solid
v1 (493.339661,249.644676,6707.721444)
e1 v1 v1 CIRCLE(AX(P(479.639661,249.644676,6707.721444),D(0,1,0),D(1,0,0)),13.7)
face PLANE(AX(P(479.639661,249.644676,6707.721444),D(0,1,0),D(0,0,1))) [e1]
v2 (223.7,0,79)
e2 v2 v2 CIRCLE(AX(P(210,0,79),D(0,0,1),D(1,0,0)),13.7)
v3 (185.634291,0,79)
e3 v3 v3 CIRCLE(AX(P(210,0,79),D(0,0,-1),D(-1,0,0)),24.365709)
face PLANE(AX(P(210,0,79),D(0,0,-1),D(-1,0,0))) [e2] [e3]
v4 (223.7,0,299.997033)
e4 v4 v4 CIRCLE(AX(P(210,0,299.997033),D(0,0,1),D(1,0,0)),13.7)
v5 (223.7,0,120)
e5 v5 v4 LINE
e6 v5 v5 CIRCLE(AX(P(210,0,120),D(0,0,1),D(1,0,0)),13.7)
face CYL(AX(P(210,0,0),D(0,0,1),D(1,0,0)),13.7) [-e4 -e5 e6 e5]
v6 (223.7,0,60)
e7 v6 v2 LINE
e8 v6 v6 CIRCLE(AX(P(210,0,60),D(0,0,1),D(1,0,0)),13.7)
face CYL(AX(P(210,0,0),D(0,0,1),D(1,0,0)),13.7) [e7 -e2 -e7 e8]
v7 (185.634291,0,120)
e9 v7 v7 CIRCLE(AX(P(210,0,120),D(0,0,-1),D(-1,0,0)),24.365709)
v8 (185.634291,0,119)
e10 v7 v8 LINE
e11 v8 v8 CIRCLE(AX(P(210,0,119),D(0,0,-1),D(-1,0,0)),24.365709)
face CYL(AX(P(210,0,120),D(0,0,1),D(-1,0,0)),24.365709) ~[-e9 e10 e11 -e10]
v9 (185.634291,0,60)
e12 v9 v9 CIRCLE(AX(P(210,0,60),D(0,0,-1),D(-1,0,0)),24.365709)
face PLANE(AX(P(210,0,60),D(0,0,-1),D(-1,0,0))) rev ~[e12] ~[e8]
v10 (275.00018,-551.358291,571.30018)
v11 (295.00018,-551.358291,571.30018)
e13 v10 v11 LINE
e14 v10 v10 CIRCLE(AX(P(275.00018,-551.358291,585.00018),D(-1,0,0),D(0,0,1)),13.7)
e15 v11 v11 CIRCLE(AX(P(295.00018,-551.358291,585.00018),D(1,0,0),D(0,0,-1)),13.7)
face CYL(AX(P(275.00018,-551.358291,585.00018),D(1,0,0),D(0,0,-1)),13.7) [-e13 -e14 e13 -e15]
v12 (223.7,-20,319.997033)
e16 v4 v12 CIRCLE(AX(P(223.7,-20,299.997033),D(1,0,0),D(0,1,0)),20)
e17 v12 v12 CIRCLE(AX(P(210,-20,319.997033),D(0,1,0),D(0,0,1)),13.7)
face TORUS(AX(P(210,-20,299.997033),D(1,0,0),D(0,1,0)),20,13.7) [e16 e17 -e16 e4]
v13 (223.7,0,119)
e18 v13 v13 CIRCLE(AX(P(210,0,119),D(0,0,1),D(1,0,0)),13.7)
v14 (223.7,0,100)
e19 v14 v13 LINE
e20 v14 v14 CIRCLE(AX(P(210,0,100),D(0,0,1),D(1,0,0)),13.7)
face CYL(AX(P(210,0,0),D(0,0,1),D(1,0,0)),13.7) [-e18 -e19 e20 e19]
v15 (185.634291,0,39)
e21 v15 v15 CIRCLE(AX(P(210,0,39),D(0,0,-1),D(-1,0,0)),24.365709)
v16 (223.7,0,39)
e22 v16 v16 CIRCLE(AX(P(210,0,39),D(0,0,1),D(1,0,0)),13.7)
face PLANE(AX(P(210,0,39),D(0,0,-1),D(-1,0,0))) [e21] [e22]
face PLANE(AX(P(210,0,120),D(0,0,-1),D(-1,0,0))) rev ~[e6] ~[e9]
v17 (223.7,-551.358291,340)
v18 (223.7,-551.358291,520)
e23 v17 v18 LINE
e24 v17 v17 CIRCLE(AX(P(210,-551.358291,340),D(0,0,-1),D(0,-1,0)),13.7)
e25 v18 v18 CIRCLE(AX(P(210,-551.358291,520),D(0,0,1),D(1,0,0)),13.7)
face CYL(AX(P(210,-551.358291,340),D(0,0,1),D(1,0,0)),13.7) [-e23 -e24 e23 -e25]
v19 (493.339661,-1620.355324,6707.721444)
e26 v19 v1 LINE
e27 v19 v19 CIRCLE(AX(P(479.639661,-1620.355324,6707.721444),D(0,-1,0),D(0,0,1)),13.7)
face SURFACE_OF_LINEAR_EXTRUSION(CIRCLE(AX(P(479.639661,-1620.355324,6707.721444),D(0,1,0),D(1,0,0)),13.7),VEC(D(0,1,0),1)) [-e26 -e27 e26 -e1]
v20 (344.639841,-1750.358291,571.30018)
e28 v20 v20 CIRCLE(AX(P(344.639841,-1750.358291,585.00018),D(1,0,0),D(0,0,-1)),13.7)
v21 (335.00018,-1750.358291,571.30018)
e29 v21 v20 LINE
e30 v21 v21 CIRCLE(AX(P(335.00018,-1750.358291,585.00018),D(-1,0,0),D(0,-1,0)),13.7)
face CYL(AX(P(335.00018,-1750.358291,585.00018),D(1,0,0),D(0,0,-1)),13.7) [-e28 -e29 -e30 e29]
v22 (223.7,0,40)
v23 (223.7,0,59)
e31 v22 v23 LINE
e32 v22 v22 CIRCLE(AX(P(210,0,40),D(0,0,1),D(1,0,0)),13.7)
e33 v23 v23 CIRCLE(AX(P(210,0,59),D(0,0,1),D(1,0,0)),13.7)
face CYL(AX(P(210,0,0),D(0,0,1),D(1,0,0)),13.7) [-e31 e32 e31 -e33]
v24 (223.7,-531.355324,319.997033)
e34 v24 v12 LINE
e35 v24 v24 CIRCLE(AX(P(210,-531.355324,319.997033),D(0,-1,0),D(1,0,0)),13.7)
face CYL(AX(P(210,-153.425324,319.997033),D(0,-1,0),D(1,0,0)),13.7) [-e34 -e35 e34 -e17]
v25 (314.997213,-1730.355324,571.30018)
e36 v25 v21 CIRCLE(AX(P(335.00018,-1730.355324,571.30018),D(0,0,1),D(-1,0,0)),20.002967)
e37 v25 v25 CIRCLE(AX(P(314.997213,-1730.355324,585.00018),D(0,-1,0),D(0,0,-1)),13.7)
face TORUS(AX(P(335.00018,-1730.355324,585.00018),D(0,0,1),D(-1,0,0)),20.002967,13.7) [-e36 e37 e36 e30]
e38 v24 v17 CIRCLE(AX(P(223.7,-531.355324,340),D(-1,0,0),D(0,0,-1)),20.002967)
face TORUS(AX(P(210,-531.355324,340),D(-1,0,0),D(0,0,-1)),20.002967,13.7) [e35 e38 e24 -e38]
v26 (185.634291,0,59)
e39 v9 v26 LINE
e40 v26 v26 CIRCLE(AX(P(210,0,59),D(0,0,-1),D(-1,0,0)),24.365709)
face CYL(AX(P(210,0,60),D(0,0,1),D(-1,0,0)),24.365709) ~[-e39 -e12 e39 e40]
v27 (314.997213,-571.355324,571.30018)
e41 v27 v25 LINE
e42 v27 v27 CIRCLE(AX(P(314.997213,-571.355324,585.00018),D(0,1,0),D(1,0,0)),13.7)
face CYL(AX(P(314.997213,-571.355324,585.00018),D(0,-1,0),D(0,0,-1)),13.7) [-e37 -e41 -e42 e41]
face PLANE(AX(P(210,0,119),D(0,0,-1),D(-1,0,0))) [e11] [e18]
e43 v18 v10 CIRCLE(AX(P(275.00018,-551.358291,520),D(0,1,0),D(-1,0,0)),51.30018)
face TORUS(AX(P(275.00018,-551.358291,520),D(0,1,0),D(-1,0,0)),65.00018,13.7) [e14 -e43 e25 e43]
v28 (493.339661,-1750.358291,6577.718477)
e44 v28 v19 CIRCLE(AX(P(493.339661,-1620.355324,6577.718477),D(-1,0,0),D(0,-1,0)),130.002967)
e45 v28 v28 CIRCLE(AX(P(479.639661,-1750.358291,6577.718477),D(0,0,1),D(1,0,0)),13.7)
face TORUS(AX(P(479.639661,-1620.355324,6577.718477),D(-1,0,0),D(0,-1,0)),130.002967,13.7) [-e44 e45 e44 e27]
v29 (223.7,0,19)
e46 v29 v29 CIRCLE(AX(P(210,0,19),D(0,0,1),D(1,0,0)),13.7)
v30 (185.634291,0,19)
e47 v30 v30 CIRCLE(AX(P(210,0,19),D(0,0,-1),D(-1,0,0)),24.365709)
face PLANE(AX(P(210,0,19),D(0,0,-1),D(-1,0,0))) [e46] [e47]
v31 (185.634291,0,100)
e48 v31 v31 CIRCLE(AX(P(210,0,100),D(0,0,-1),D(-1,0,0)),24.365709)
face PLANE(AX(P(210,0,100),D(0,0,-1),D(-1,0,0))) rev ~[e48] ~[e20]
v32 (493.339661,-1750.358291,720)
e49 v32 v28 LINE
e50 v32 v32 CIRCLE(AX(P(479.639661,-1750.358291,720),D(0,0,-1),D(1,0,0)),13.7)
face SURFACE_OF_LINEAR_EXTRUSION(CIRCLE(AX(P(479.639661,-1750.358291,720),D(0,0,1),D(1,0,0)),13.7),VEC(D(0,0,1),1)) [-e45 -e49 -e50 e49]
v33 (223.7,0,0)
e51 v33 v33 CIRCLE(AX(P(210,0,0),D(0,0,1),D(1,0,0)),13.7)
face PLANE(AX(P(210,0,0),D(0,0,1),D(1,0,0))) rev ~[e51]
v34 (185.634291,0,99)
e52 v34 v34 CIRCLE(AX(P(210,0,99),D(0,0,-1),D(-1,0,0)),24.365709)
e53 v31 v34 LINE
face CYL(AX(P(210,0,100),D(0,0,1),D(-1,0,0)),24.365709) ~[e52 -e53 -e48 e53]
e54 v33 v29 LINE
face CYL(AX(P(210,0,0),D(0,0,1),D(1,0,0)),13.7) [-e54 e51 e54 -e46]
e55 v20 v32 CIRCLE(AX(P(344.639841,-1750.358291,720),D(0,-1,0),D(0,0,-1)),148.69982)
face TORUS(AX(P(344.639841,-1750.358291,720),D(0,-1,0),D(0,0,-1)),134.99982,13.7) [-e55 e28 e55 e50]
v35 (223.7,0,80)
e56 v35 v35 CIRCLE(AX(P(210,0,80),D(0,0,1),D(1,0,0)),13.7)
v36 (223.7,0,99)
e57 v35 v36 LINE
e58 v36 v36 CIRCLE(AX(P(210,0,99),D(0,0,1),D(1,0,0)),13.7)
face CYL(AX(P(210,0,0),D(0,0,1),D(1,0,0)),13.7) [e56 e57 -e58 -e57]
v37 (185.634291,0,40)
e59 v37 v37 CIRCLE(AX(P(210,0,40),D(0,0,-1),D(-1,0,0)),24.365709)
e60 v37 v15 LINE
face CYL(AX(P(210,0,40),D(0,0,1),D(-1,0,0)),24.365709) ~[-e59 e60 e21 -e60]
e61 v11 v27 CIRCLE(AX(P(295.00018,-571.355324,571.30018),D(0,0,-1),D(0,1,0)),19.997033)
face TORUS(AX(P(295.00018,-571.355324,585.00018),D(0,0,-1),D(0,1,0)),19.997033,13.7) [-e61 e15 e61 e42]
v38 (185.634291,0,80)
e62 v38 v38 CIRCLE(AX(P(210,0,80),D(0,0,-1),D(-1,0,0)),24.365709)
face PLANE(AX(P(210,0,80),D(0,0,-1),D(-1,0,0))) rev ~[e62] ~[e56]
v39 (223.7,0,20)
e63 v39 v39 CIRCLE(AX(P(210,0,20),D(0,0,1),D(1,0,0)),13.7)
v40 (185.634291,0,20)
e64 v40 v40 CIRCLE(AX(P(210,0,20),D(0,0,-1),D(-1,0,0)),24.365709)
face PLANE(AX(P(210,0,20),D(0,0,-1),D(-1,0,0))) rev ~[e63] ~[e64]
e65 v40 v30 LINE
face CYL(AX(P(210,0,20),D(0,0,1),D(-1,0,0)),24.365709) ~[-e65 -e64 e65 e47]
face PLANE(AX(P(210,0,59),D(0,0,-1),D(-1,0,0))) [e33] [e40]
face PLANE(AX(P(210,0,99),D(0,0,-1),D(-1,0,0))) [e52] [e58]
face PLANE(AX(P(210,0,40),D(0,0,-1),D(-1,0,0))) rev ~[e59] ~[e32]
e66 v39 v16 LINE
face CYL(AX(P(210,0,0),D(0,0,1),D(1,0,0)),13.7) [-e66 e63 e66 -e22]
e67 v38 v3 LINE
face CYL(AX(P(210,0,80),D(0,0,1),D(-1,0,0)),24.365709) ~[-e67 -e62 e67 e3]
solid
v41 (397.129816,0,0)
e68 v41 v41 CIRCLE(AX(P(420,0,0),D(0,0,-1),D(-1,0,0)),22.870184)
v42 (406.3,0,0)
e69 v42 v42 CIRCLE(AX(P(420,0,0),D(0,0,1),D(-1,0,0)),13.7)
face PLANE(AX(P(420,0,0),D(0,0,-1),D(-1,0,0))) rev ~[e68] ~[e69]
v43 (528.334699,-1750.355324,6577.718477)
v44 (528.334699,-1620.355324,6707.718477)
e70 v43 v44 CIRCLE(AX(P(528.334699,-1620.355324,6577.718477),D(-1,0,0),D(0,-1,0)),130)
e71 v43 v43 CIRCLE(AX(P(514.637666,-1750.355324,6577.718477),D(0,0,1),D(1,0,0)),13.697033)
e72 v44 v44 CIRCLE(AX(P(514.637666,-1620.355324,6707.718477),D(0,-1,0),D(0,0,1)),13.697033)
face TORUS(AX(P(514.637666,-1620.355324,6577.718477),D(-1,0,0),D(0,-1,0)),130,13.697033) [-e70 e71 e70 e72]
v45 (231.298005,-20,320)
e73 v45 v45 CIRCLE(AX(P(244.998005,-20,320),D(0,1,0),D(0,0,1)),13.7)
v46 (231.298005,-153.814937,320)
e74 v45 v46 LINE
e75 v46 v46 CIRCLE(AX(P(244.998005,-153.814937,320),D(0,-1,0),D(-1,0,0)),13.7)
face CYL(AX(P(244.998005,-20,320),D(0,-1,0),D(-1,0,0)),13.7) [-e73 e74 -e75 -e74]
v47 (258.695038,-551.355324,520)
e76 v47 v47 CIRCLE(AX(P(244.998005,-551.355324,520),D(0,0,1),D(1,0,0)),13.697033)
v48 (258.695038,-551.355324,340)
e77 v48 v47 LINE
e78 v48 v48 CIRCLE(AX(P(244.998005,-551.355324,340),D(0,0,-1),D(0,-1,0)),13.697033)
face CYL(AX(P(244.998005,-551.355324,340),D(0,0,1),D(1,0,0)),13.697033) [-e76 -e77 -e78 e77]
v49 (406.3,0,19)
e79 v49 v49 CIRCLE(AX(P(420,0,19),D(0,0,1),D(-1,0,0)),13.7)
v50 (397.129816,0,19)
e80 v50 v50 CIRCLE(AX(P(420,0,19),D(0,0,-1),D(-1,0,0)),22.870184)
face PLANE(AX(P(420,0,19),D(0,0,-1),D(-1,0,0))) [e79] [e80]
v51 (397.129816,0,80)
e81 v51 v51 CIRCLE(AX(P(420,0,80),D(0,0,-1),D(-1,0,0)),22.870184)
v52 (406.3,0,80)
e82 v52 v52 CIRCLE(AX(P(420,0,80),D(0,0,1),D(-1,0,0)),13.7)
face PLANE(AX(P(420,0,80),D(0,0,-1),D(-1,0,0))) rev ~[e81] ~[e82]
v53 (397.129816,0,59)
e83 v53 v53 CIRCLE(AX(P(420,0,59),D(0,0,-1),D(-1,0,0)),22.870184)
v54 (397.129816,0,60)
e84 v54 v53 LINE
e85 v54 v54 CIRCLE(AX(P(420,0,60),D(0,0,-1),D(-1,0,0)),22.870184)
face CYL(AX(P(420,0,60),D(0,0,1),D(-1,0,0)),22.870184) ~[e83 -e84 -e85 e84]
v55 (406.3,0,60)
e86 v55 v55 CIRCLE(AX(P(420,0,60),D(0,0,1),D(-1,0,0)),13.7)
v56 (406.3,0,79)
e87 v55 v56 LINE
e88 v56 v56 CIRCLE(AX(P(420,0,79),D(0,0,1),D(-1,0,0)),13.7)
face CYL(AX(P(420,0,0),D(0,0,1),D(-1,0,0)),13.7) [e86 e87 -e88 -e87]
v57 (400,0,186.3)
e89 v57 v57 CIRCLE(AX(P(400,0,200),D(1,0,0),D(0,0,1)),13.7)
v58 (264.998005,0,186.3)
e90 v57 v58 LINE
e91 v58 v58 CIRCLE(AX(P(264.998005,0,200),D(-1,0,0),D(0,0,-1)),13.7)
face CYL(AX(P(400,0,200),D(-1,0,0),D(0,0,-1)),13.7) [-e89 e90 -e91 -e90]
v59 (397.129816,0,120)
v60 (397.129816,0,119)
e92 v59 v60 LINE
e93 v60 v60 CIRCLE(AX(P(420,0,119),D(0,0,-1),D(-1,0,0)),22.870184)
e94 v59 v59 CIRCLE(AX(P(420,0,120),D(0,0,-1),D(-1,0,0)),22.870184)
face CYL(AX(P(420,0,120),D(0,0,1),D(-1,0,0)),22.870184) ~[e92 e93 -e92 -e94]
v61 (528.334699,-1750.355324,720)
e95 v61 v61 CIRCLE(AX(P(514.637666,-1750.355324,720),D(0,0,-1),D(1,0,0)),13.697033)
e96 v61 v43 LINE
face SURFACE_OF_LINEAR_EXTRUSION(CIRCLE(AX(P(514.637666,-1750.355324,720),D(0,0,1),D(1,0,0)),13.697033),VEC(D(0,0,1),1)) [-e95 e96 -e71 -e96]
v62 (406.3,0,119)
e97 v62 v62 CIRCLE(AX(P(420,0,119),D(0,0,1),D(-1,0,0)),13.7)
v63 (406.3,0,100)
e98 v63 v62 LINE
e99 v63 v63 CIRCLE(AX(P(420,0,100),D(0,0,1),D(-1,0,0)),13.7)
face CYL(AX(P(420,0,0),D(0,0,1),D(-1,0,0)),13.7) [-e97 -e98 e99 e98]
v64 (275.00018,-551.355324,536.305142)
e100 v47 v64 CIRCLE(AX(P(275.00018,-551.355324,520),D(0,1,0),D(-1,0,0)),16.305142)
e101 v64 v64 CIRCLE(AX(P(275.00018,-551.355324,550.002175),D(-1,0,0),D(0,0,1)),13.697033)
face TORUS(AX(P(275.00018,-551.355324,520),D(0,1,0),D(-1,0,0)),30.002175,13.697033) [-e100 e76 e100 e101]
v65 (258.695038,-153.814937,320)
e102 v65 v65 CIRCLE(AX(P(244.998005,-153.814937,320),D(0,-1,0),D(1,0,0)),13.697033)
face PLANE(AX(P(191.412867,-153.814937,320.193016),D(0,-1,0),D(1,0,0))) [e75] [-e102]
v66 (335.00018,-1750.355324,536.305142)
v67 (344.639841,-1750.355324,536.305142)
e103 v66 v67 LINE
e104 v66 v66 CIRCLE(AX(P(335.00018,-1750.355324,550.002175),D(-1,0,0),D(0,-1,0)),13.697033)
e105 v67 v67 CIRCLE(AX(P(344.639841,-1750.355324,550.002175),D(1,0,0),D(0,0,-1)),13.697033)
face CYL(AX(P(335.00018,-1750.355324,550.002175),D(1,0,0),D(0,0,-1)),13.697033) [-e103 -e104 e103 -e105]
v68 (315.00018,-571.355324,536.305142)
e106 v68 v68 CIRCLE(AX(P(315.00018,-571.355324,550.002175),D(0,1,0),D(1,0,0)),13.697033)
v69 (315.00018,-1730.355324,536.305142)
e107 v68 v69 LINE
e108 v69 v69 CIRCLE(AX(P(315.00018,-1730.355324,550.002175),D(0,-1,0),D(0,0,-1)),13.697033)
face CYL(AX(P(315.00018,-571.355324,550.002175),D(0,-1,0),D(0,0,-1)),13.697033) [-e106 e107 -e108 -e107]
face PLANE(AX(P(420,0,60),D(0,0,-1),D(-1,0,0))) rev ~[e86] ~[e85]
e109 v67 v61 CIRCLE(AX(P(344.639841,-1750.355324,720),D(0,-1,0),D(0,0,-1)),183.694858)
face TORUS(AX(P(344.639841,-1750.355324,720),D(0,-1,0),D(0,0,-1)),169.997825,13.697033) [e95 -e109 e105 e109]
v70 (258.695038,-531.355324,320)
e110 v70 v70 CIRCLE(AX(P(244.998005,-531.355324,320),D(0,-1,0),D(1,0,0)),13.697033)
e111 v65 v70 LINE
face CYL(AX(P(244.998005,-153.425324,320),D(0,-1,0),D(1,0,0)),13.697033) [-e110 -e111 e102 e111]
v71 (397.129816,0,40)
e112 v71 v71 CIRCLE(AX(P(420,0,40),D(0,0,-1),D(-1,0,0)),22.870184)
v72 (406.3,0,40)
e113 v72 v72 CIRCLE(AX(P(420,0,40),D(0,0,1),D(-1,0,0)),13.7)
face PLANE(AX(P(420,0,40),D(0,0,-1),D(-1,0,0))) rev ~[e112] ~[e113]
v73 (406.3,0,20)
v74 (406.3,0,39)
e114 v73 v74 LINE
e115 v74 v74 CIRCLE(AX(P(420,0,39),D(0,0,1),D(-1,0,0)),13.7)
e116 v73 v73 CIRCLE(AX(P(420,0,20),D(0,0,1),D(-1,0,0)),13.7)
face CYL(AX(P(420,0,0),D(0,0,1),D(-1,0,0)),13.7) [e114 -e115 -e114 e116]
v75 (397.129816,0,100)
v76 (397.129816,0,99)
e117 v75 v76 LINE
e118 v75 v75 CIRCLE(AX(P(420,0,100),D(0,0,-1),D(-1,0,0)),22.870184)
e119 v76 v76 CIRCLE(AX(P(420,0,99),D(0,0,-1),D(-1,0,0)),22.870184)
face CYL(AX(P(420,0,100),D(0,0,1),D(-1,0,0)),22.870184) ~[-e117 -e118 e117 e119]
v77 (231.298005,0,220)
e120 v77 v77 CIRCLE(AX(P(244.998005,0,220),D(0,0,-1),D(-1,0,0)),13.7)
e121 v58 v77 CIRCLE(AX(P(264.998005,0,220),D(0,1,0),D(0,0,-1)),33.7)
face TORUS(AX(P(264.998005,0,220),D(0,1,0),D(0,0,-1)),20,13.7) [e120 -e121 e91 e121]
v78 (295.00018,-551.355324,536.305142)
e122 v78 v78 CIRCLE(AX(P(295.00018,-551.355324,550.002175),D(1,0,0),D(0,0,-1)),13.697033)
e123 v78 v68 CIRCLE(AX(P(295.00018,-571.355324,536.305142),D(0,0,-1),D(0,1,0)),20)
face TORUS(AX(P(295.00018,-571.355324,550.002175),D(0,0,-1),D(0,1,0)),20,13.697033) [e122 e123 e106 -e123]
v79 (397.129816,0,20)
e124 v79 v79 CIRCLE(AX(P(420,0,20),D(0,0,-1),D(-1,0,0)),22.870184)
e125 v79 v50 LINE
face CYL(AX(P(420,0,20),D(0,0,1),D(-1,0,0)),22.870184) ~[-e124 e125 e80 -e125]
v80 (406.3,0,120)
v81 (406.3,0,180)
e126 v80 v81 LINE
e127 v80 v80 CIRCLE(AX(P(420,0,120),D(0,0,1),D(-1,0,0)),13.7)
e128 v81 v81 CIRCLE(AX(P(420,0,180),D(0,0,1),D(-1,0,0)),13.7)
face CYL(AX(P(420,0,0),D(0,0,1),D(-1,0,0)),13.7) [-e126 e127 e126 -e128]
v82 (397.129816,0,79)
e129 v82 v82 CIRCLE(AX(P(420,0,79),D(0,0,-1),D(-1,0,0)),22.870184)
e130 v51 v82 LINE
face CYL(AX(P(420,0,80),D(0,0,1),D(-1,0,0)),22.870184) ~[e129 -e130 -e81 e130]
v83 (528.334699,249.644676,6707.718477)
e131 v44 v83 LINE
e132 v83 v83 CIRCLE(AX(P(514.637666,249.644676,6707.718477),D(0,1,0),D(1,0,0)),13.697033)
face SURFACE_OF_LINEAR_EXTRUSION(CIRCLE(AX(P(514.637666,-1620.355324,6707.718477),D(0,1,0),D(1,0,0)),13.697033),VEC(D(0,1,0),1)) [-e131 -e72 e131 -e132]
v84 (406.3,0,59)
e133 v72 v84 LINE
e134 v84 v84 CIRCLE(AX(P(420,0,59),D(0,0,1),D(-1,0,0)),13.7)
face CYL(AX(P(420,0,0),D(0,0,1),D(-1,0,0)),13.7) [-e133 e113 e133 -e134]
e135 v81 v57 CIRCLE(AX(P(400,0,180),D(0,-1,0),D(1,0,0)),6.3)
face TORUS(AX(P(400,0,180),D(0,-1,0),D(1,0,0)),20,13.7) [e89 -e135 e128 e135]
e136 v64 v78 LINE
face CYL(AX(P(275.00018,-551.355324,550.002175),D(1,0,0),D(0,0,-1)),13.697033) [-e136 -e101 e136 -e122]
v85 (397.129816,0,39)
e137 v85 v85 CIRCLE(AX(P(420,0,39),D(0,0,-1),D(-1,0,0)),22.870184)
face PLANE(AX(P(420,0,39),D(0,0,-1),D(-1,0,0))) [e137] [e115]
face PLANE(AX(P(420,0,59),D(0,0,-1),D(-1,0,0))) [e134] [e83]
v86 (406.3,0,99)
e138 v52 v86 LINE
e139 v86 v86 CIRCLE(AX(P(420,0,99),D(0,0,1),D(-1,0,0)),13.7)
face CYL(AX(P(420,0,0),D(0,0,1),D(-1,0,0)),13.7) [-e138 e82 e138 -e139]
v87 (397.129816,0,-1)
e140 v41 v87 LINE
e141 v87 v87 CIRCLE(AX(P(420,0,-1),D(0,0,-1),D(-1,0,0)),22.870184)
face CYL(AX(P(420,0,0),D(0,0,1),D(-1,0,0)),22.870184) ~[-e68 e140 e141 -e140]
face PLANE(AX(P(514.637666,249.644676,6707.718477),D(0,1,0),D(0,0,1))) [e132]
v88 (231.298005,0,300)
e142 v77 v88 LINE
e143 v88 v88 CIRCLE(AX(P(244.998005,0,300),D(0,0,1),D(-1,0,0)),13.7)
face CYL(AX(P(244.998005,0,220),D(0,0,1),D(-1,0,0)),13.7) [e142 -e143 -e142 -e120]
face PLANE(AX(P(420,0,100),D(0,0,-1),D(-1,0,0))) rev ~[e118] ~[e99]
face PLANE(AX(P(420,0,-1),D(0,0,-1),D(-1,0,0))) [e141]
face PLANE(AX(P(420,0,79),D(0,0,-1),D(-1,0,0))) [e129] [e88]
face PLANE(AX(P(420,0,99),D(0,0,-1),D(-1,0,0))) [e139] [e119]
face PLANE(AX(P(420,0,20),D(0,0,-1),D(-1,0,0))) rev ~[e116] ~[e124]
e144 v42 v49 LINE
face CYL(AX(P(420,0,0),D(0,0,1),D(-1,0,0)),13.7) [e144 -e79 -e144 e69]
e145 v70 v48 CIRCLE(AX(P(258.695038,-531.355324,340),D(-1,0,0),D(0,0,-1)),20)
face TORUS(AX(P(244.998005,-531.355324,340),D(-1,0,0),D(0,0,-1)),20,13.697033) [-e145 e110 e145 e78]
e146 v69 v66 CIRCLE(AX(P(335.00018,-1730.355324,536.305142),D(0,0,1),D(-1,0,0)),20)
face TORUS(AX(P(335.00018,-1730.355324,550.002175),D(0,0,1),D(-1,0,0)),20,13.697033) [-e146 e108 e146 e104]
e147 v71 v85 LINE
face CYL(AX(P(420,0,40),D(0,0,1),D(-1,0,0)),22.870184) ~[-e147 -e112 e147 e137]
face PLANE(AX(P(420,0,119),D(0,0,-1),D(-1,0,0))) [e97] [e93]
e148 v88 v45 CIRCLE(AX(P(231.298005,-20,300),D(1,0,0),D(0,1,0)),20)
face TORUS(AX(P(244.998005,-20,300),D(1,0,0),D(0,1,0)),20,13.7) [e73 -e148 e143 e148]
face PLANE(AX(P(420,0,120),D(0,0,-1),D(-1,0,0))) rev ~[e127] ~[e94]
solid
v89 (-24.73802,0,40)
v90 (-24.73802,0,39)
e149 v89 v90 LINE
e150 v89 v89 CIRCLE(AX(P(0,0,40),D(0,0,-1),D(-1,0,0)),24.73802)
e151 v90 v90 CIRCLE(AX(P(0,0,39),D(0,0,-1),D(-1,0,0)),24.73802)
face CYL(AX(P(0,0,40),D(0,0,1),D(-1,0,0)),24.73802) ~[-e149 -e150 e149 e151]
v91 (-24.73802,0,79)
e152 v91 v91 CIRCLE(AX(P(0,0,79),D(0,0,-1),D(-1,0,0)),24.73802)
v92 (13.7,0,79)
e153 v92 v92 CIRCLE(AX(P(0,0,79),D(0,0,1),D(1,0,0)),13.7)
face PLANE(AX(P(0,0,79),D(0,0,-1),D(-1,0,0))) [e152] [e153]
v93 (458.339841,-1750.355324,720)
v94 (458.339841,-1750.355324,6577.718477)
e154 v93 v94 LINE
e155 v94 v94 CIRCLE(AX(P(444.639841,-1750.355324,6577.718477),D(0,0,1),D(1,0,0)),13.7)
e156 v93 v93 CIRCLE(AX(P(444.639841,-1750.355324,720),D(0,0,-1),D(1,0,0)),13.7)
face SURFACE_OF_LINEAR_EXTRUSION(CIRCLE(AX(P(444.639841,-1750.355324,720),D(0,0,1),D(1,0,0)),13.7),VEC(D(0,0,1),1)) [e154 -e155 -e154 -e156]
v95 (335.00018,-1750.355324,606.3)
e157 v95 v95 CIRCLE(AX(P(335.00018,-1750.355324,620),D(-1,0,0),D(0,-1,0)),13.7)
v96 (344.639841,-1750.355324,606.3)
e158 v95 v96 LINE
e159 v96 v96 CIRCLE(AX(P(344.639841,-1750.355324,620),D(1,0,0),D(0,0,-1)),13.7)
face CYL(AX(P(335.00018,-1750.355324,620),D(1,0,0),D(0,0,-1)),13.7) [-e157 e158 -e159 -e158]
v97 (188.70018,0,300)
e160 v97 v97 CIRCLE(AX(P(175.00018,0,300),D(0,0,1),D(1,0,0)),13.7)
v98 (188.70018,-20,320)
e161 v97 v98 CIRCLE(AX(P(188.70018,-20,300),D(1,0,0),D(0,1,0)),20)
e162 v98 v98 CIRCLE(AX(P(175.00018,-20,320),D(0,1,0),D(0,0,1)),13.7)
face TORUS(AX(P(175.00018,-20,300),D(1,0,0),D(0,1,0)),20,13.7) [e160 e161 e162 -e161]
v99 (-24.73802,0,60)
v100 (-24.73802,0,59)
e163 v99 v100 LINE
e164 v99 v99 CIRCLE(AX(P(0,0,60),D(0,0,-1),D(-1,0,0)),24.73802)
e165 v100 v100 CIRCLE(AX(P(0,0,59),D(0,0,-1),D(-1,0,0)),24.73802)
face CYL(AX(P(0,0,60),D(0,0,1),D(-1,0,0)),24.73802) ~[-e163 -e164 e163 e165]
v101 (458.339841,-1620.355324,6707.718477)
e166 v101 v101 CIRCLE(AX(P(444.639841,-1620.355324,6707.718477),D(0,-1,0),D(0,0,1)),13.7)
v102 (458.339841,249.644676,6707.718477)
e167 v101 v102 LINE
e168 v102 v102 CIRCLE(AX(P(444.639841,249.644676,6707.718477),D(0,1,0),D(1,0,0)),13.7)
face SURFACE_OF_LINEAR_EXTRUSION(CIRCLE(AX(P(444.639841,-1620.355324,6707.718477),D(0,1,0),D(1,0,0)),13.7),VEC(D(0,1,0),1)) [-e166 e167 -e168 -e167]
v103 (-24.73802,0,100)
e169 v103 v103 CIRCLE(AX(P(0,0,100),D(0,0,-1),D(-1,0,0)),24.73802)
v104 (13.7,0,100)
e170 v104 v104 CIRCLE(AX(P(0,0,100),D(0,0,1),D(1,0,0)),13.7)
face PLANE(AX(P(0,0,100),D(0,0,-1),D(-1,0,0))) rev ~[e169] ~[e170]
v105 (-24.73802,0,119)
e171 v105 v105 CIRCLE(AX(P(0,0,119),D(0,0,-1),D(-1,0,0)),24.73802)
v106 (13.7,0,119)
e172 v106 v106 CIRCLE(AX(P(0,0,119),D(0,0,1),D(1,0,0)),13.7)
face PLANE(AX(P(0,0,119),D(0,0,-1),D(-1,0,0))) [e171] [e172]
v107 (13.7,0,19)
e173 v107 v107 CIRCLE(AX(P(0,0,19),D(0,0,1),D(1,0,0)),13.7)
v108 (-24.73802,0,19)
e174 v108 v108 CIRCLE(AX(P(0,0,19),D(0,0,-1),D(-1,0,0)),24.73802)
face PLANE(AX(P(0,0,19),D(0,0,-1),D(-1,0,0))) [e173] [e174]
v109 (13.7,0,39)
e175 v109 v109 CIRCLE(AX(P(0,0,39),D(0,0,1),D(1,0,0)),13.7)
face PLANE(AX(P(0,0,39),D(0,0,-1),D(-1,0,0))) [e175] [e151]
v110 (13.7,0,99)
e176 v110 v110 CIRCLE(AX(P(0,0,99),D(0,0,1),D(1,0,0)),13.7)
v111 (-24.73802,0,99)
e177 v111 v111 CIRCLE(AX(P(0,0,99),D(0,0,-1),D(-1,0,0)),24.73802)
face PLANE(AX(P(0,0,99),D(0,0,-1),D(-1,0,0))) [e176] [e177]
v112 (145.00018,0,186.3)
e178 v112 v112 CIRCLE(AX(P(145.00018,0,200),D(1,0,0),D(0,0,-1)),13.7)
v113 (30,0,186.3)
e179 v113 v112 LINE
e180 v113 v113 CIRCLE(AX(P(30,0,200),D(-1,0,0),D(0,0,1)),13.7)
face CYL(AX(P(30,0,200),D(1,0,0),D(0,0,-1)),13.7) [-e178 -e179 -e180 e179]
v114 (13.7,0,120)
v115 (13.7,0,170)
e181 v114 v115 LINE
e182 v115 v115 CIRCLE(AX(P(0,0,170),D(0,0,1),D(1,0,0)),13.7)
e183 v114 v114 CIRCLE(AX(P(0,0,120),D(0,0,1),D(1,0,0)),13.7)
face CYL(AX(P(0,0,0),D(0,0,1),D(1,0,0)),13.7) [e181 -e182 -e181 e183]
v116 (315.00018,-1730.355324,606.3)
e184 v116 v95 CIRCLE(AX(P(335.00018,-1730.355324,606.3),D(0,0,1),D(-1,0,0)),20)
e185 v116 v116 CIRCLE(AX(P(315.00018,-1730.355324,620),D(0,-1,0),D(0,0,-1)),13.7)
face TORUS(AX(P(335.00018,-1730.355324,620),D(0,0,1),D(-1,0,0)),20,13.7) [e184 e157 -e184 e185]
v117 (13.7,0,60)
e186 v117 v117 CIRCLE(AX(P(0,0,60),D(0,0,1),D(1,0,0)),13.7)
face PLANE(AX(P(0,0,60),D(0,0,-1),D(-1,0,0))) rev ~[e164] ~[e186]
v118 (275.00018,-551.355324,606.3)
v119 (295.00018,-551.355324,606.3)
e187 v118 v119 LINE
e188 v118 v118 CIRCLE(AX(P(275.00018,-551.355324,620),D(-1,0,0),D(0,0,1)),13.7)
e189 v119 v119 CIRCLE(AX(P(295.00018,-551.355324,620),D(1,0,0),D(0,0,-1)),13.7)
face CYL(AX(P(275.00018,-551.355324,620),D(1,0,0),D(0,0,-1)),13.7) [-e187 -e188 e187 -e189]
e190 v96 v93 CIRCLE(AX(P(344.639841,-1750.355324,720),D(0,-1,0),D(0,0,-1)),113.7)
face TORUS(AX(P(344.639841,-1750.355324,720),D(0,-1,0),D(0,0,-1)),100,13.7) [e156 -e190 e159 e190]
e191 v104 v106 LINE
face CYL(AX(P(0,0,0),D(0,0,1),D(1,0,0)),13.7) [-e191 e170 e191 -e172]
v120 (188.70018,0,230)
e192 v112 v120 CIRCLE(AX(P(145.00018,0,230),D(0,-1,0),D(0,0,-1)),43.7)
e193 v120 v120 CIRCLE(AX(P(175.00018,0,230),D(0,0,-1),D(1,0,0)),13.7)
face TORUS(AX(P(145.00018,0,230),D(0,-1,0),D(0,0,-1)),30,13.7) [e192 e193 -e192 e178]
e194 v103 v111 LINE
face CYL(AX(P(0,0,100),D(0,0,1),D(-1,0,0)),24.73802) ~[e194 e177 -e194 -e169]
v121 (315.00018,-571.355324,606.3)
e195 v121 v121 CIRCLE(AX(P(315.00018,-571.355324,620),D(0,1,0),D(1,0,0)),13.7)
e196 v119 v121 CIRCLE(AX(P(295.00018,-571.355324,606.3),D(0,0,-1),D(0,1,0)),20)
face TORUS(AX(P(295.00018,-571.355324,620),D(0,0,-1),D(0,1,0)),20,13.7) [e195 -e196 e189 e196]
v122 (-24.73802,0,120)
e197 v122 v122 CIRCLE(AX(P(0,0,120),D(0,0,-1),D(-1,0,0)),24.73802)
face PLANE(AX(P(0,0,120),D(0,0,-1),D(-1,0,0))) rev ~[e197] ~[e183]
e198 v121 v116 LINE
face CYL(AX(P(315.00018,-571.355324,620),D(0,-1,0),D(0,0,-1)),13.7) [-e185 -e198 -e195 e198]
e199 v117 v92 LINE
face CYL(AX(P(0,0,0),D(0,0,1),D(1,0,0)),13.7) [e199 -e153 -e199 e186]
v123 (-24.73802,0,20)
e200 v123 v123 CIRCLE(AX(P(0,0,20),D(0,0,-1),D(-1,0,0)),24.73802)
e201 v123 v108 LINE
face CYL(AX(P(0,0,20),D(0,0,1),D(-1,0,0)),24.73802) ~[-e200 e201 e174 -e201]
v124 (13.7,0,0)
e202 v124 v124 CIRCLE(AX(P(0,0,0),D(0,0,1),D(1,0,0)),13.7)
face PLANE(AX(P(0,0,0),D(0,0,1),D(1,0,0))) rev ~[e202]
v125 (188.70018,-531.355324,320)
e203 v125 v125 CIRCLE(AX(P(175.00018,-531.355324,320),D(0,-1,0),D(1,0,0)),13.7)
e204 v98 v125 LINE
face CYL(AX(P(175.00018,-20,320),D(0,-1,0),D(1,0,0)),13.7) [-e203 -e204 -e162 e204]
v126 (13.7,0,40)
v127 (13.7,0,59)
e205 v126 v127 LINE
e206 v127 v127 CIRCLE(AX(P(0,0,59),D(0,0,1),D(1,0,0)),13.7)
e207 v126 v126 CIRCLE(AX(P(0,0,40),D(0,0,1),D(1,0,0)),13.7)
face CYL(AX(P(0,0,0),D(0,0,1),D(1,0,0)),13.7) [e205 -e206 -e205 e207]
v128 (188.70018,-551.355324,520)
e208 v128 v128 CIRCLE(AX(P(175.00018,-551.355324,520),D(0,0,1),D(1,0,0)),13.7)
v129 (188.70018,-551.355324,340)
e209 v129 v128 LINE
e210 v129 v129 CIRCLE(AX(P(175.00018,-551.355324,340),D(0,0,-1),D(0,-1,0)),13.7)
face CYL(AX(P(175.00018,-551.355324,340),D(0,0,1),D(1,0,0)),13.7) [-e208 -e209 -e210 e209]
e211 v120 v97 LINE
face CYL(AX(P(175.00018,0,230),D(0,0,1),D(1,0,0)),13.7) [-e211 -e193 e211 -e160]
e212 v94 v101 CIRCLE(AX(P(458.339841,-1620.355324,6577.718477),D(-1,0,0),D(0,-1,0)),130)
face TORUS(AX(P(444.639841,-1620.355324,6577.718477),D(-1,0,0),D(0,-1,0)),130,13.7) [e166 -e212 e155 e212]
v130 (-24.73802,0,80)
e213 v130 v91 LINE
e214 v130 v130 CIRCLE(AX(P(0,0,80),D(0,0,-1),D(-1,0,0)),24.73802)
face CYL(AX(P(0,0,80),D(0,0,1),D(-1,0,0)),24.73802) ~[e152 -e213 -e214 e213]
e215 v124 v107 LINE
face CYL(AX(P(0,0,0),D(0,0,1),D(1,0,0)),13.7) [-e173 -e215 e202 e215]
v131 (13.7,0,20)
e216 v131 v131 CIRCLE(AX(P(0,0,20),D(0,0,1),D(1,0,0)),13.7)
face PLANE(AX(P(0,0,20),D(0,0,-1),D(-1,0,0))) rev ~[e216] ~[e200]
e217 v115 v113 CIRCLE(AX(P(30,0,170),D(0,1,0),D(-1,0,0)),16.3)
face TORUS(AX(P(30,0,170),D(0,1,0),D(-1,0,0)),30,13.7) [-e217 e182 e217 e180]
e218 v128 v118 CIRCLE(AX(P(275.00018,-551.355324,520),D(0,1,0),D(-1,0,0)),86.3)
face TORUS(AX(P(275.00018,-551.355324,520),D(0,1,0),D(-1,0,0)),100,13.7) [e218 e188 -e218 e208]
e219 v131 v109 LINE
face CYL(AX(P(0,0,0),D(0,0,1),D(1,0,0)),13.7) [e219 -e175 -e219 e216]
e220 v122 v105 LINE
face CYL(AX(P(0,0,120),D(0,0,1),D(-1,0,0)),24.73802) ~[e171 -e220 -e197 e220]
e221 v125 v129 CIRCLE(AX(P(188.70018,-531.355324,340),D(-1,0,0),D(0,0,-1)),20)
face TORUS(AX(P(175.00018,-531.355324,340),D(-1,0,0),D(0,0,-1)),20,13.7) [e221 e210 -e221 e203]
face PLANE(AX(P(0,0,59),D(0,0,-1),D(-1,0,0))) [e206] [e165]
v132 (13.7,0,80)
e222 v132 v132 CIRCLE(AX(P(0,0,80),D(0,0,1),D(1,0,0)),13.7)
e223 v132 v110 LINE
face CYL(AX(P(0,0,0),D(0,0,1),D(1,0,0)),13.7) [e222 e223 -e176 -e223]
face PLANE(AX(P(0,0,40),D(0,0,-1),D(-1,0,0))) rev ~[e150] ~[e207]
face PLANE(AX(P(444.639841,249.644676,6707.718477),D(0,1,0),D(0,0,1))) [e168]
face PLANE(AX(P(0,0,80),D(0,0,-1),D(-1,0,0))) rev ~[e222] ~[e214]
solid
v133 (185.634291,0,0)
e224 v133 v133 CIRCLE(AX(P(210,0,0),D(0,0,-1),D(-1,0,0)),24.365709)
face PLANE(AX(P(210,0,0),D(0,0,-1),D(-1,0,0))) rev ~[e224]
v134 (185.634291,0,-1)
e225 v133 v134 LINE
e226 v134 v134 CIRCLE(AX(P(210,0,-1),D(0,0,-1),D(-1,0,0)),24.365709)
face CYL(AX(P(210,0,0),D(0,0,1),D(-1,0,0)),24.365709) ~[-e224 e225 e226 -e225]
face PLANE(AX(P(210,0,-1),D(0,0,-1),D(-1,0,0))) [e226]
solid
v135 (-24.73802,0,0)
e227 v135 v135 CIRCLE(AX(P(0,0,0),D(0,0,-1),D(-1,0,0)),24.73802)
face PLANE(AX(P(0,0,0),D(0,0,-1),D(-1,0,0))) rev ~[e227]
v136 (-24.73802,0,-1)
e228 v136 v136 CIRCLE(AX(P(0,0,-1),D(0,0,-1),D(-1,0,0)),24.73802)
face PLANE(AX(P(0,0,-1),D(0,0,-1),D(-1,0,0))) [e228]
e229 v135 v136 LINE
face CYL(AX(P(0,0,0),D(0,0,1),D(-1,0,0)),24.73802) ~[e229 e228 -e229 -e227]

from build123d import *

# Parameters (mm, degrees)
BARRER5_PROFILE_R       = 13.7
BARRER6_PROFILE_R       = 13.7
CROQUIS41_R             = 13.7
CROQUIS62_R             = 22.870183784
CROQUIS62_R_2           = 24.36570856
CROQUIS62_R_3           = 24.738020287
SALIENTE_EXTRUIR1_DEPTH = 1
MATRIZL1_COUNT          = 7
MATRIZL1_PITCH          = 20
CROQUIS64_W             = 239.066100256
CROQUIS64_H             = 33.201144274
CORTAR_EXTRUIR1_DEPTH   = 5
CROQUIS65_R             = 13.7
CROQUIS65_R_2           = 13.697033


with BuildPart() as part:
    # Barrer5: sweep along a curve in space
    with BuildLine() as barrer5_path:
        Line((0, 0, 0), (0, 0, 170))
        ThreePointArc((0, 0, 170), (8.786796564, 0, 191.213203436), (30, 0, 200))
        Line((30, 0, 200), (145.00018, 0, 200))
        ThreePointArc((145.00018, 0, 200), (166.213383436, 0, 208.786796564), (175.00018, 0, 230))
        Line((175.00018, 0, 230), (175.00018, 0, 300))
        ThreePointArc((175.00018, 0, 300), (175.00018, -5.857864376, 314.142135624), (175.00018, -20, 320))
        Line((175.00018, -20, 320), (175.00018, -156.800061359, 320))
    # Barrer5 profile (on start of the path) → Barrer5 (sweep)
    with BuildSketch(Plane.XY):
        Circle(BARRER5_PROFILE_R)
    sweep(path=barrer5_path.line)


with BuildPart() as body_2:
    # Barrer6: sweep along a curve in space
    with BuildLine() as barrer6_path:
        Line((210, 0, 0), (210, 0, 299.997033))
        ThreePointArc((210, 0, 299.997033), (210, -5.857864376, 314.139168624), (210, -20, 319.997033))
        Line((210, -20, 319.997033), (210, -153.425324093, 319.997033))
    # Barrer6 profile (on start of the path) → Barrer6 (sweep)
    with BuildSketch(Plane(origin=(210, 0, 0), x_dir=(1, 0, 0), z_dir=(0, 0, 1))):
        Circle(BARRER6_PROFILE_R)
    sweep(path=barrer6_path.line)


with BuildPart() as body_3:
    # Barrer7: sweep along a curve in space
    with BuildLine() as barrer7_path:
        Line((420, 0, 0), (420, 0, 180))
        ThreePointArc((420, 0, 180), (414.142135624, 0, 194.142135624), (400, 0, 200))
        Line((400, 0, 200), (264.998005, 0, 200))
        ThreePointArc((264.998005, 0, 200), (250.855869376, 0, 205.857864376), (244.998005, 0, 220))
        Line((244.998005, 0, 220), (244.998005, 0, 300))
        ThreePointArc((244.998005, 0, 300), (244.998005, -5.857864376, 314.142135624), (244.998005, -20, 320))
        Line((244.998005, -20, 320), (244.998005, -158.814937218, 320))
    # Croquis41 → Barrer7 (sweep)
    with BuildSketch(Plane(origin=(0, 0, 0), x_dir=(-1, 0, 0), z_dir=(0, 0, -1))):
        with Locations((-420, 0)):
            Circle(CROQUIS41_R)
    sweep(path=barrer7_path.line)

    # Croquis62 → Saliente-Extruir1 (add)
    with BuildSketch(Plane(origin=(0, 0, 0), x_dir=(-1, 0, 0), z_dir=(0, 0, -1))):
        with Locations((-420, 0)):
            Circle(CROQUIS62_R)
        with Locations((-210, 0)):
            Circle(CROQUIS62_R_2)
        Circle(CROQUIS62_R_3)
    saliente_extruir1 = extrude(amount=SALIENTE_EXTRUIR1_DEPTH)


with BuildPart() as saliente_extruir1_piece_1:
    # of the separate pieces the step leaves, piece 1, a body of its own (saliente_extruir1_pieces)
    add(body_3.part.solids().sort_by_distance((397.129816216, 0, 0))[0])


with BuildPart() as saliente_extruir1_piece_2:
    # of the separate pieces the step leaves, piece 2, a body of its own (saliente_extruir1_pieces)
    add(body_3.part.solids().sort_by_distance((-24.738020287, 0, 0))[0])


with BuildPart() as saliente_extruir1_piece_3:
    # of the separate pieces the step leaves, piece 3, a body of its own (saliente_extruir1_pieces)
    add(body_3.part.solids().sort_by_distance((185.63429144, 0, 0))[0])


with BuildPart() as part_1:
    add(part.part)

    add(body_2.part)  # MatrizL1 merges body 2

    add(saliente_extruir1_piece_1.part)  # MatrizL1 merges Saliente-Extruir1 piece 1
    # MatrizL1: Saliente-Extruir1 ×7
    with Locations(*[(0, 0, i * MATRIZL1_PITCH) for i in range(1, MATRIZL1_COUNT)]):
        add(saliente_extruir1)

    # Croquis64 → Cortar-Extruir1 (cut)
    with BuildSketch(Plane.XZ.offset(158.814937218)):
        with Locations((191.41286696, 320.193015877)):
            Rectangle(CROQUIS64_W, CROQUIS64_H)
    extrude(amount=-CORTAR_EXTRUIR1_DEPTH, mode=Mode.SUBTRACT)

    # Barrer10: sweep along a curve in space
    with BuildLine() as barrer10_path:
        Line((175.00018, -153.425324093, 320), (175.00018, -531.355324093, 320))
        ThreePointArc((175.00018, -531.355324093, 320), (175.00018, -545.497459717, 325.857864376), (175.00018, -551.355324093, 340))
        Line((175.00018, -551.355324093, 340), (175.00018, -551.355324093, 520))
        ThreePointArc((175.00018, -551.355324093, 520), (204.289501881, -551.355324093, 590.710678119), (275.00018, -551.355324093, 620))
        Line((275.00018, -551.355324093, 620), (295.00018, -551.355324093, 620))
        ThreePointArc((295.00018, -551.355324093, 620), (309.142315624, -557.213188469, 620), (315.00018, -571.355324093, 620))
        Line((315.00018, -571.355324093, 620), (315.00018, -1730.355324093, 620))
        ThreePointArc((315.00018, -1730.355324093, 620), (320.858044376, -1744.497459717, 620), (335.00018, -1750.355324093, 620))
        Line((335.00018, -1750.355324093, 620), (344.639841001, -1750.355324093, 620))
        ThreePointArc((344.639841001, -1750.355324093, 620), (415.35051912, -1750.355324093, 649.289321881), (444.639841001, -1750.355324093, 720))
        Line((444.639841001, -1750.355324093, 720), (444.639841001, -1750.355324093, 6577.71847655))
        ThreePointArc((444.639841001, -1750.355324093, 6577.71847655), (444.639841001, -1712.279205647, 6669.642358104), (444.639841001, -1620.355324093, 6707.71847655))
        Line((444.639841001, -1620.355324093, 6707.71847655), (444.639841001, 249.644675907, 6707.71847655))
    # Croquis65 → Barrer10 (sweep)
    with BuildSketch(Plane.XZ.offset(153.425324093)):
        with Locations((175.00018, 320)):
            Circle(CROQUIS65_R)
        with Locations((210, 319.997033)):
            Circle(CROQUIS65_R)
        with Locations((244.998005, 320)):
            Circle(CROQUIS65_R_2)
    sweep(path=barrer10_path.line)


solid = Compound([saliente_extruir1_piece_2.part, saliente_extruir1_piece_3.part, part_1.part])
